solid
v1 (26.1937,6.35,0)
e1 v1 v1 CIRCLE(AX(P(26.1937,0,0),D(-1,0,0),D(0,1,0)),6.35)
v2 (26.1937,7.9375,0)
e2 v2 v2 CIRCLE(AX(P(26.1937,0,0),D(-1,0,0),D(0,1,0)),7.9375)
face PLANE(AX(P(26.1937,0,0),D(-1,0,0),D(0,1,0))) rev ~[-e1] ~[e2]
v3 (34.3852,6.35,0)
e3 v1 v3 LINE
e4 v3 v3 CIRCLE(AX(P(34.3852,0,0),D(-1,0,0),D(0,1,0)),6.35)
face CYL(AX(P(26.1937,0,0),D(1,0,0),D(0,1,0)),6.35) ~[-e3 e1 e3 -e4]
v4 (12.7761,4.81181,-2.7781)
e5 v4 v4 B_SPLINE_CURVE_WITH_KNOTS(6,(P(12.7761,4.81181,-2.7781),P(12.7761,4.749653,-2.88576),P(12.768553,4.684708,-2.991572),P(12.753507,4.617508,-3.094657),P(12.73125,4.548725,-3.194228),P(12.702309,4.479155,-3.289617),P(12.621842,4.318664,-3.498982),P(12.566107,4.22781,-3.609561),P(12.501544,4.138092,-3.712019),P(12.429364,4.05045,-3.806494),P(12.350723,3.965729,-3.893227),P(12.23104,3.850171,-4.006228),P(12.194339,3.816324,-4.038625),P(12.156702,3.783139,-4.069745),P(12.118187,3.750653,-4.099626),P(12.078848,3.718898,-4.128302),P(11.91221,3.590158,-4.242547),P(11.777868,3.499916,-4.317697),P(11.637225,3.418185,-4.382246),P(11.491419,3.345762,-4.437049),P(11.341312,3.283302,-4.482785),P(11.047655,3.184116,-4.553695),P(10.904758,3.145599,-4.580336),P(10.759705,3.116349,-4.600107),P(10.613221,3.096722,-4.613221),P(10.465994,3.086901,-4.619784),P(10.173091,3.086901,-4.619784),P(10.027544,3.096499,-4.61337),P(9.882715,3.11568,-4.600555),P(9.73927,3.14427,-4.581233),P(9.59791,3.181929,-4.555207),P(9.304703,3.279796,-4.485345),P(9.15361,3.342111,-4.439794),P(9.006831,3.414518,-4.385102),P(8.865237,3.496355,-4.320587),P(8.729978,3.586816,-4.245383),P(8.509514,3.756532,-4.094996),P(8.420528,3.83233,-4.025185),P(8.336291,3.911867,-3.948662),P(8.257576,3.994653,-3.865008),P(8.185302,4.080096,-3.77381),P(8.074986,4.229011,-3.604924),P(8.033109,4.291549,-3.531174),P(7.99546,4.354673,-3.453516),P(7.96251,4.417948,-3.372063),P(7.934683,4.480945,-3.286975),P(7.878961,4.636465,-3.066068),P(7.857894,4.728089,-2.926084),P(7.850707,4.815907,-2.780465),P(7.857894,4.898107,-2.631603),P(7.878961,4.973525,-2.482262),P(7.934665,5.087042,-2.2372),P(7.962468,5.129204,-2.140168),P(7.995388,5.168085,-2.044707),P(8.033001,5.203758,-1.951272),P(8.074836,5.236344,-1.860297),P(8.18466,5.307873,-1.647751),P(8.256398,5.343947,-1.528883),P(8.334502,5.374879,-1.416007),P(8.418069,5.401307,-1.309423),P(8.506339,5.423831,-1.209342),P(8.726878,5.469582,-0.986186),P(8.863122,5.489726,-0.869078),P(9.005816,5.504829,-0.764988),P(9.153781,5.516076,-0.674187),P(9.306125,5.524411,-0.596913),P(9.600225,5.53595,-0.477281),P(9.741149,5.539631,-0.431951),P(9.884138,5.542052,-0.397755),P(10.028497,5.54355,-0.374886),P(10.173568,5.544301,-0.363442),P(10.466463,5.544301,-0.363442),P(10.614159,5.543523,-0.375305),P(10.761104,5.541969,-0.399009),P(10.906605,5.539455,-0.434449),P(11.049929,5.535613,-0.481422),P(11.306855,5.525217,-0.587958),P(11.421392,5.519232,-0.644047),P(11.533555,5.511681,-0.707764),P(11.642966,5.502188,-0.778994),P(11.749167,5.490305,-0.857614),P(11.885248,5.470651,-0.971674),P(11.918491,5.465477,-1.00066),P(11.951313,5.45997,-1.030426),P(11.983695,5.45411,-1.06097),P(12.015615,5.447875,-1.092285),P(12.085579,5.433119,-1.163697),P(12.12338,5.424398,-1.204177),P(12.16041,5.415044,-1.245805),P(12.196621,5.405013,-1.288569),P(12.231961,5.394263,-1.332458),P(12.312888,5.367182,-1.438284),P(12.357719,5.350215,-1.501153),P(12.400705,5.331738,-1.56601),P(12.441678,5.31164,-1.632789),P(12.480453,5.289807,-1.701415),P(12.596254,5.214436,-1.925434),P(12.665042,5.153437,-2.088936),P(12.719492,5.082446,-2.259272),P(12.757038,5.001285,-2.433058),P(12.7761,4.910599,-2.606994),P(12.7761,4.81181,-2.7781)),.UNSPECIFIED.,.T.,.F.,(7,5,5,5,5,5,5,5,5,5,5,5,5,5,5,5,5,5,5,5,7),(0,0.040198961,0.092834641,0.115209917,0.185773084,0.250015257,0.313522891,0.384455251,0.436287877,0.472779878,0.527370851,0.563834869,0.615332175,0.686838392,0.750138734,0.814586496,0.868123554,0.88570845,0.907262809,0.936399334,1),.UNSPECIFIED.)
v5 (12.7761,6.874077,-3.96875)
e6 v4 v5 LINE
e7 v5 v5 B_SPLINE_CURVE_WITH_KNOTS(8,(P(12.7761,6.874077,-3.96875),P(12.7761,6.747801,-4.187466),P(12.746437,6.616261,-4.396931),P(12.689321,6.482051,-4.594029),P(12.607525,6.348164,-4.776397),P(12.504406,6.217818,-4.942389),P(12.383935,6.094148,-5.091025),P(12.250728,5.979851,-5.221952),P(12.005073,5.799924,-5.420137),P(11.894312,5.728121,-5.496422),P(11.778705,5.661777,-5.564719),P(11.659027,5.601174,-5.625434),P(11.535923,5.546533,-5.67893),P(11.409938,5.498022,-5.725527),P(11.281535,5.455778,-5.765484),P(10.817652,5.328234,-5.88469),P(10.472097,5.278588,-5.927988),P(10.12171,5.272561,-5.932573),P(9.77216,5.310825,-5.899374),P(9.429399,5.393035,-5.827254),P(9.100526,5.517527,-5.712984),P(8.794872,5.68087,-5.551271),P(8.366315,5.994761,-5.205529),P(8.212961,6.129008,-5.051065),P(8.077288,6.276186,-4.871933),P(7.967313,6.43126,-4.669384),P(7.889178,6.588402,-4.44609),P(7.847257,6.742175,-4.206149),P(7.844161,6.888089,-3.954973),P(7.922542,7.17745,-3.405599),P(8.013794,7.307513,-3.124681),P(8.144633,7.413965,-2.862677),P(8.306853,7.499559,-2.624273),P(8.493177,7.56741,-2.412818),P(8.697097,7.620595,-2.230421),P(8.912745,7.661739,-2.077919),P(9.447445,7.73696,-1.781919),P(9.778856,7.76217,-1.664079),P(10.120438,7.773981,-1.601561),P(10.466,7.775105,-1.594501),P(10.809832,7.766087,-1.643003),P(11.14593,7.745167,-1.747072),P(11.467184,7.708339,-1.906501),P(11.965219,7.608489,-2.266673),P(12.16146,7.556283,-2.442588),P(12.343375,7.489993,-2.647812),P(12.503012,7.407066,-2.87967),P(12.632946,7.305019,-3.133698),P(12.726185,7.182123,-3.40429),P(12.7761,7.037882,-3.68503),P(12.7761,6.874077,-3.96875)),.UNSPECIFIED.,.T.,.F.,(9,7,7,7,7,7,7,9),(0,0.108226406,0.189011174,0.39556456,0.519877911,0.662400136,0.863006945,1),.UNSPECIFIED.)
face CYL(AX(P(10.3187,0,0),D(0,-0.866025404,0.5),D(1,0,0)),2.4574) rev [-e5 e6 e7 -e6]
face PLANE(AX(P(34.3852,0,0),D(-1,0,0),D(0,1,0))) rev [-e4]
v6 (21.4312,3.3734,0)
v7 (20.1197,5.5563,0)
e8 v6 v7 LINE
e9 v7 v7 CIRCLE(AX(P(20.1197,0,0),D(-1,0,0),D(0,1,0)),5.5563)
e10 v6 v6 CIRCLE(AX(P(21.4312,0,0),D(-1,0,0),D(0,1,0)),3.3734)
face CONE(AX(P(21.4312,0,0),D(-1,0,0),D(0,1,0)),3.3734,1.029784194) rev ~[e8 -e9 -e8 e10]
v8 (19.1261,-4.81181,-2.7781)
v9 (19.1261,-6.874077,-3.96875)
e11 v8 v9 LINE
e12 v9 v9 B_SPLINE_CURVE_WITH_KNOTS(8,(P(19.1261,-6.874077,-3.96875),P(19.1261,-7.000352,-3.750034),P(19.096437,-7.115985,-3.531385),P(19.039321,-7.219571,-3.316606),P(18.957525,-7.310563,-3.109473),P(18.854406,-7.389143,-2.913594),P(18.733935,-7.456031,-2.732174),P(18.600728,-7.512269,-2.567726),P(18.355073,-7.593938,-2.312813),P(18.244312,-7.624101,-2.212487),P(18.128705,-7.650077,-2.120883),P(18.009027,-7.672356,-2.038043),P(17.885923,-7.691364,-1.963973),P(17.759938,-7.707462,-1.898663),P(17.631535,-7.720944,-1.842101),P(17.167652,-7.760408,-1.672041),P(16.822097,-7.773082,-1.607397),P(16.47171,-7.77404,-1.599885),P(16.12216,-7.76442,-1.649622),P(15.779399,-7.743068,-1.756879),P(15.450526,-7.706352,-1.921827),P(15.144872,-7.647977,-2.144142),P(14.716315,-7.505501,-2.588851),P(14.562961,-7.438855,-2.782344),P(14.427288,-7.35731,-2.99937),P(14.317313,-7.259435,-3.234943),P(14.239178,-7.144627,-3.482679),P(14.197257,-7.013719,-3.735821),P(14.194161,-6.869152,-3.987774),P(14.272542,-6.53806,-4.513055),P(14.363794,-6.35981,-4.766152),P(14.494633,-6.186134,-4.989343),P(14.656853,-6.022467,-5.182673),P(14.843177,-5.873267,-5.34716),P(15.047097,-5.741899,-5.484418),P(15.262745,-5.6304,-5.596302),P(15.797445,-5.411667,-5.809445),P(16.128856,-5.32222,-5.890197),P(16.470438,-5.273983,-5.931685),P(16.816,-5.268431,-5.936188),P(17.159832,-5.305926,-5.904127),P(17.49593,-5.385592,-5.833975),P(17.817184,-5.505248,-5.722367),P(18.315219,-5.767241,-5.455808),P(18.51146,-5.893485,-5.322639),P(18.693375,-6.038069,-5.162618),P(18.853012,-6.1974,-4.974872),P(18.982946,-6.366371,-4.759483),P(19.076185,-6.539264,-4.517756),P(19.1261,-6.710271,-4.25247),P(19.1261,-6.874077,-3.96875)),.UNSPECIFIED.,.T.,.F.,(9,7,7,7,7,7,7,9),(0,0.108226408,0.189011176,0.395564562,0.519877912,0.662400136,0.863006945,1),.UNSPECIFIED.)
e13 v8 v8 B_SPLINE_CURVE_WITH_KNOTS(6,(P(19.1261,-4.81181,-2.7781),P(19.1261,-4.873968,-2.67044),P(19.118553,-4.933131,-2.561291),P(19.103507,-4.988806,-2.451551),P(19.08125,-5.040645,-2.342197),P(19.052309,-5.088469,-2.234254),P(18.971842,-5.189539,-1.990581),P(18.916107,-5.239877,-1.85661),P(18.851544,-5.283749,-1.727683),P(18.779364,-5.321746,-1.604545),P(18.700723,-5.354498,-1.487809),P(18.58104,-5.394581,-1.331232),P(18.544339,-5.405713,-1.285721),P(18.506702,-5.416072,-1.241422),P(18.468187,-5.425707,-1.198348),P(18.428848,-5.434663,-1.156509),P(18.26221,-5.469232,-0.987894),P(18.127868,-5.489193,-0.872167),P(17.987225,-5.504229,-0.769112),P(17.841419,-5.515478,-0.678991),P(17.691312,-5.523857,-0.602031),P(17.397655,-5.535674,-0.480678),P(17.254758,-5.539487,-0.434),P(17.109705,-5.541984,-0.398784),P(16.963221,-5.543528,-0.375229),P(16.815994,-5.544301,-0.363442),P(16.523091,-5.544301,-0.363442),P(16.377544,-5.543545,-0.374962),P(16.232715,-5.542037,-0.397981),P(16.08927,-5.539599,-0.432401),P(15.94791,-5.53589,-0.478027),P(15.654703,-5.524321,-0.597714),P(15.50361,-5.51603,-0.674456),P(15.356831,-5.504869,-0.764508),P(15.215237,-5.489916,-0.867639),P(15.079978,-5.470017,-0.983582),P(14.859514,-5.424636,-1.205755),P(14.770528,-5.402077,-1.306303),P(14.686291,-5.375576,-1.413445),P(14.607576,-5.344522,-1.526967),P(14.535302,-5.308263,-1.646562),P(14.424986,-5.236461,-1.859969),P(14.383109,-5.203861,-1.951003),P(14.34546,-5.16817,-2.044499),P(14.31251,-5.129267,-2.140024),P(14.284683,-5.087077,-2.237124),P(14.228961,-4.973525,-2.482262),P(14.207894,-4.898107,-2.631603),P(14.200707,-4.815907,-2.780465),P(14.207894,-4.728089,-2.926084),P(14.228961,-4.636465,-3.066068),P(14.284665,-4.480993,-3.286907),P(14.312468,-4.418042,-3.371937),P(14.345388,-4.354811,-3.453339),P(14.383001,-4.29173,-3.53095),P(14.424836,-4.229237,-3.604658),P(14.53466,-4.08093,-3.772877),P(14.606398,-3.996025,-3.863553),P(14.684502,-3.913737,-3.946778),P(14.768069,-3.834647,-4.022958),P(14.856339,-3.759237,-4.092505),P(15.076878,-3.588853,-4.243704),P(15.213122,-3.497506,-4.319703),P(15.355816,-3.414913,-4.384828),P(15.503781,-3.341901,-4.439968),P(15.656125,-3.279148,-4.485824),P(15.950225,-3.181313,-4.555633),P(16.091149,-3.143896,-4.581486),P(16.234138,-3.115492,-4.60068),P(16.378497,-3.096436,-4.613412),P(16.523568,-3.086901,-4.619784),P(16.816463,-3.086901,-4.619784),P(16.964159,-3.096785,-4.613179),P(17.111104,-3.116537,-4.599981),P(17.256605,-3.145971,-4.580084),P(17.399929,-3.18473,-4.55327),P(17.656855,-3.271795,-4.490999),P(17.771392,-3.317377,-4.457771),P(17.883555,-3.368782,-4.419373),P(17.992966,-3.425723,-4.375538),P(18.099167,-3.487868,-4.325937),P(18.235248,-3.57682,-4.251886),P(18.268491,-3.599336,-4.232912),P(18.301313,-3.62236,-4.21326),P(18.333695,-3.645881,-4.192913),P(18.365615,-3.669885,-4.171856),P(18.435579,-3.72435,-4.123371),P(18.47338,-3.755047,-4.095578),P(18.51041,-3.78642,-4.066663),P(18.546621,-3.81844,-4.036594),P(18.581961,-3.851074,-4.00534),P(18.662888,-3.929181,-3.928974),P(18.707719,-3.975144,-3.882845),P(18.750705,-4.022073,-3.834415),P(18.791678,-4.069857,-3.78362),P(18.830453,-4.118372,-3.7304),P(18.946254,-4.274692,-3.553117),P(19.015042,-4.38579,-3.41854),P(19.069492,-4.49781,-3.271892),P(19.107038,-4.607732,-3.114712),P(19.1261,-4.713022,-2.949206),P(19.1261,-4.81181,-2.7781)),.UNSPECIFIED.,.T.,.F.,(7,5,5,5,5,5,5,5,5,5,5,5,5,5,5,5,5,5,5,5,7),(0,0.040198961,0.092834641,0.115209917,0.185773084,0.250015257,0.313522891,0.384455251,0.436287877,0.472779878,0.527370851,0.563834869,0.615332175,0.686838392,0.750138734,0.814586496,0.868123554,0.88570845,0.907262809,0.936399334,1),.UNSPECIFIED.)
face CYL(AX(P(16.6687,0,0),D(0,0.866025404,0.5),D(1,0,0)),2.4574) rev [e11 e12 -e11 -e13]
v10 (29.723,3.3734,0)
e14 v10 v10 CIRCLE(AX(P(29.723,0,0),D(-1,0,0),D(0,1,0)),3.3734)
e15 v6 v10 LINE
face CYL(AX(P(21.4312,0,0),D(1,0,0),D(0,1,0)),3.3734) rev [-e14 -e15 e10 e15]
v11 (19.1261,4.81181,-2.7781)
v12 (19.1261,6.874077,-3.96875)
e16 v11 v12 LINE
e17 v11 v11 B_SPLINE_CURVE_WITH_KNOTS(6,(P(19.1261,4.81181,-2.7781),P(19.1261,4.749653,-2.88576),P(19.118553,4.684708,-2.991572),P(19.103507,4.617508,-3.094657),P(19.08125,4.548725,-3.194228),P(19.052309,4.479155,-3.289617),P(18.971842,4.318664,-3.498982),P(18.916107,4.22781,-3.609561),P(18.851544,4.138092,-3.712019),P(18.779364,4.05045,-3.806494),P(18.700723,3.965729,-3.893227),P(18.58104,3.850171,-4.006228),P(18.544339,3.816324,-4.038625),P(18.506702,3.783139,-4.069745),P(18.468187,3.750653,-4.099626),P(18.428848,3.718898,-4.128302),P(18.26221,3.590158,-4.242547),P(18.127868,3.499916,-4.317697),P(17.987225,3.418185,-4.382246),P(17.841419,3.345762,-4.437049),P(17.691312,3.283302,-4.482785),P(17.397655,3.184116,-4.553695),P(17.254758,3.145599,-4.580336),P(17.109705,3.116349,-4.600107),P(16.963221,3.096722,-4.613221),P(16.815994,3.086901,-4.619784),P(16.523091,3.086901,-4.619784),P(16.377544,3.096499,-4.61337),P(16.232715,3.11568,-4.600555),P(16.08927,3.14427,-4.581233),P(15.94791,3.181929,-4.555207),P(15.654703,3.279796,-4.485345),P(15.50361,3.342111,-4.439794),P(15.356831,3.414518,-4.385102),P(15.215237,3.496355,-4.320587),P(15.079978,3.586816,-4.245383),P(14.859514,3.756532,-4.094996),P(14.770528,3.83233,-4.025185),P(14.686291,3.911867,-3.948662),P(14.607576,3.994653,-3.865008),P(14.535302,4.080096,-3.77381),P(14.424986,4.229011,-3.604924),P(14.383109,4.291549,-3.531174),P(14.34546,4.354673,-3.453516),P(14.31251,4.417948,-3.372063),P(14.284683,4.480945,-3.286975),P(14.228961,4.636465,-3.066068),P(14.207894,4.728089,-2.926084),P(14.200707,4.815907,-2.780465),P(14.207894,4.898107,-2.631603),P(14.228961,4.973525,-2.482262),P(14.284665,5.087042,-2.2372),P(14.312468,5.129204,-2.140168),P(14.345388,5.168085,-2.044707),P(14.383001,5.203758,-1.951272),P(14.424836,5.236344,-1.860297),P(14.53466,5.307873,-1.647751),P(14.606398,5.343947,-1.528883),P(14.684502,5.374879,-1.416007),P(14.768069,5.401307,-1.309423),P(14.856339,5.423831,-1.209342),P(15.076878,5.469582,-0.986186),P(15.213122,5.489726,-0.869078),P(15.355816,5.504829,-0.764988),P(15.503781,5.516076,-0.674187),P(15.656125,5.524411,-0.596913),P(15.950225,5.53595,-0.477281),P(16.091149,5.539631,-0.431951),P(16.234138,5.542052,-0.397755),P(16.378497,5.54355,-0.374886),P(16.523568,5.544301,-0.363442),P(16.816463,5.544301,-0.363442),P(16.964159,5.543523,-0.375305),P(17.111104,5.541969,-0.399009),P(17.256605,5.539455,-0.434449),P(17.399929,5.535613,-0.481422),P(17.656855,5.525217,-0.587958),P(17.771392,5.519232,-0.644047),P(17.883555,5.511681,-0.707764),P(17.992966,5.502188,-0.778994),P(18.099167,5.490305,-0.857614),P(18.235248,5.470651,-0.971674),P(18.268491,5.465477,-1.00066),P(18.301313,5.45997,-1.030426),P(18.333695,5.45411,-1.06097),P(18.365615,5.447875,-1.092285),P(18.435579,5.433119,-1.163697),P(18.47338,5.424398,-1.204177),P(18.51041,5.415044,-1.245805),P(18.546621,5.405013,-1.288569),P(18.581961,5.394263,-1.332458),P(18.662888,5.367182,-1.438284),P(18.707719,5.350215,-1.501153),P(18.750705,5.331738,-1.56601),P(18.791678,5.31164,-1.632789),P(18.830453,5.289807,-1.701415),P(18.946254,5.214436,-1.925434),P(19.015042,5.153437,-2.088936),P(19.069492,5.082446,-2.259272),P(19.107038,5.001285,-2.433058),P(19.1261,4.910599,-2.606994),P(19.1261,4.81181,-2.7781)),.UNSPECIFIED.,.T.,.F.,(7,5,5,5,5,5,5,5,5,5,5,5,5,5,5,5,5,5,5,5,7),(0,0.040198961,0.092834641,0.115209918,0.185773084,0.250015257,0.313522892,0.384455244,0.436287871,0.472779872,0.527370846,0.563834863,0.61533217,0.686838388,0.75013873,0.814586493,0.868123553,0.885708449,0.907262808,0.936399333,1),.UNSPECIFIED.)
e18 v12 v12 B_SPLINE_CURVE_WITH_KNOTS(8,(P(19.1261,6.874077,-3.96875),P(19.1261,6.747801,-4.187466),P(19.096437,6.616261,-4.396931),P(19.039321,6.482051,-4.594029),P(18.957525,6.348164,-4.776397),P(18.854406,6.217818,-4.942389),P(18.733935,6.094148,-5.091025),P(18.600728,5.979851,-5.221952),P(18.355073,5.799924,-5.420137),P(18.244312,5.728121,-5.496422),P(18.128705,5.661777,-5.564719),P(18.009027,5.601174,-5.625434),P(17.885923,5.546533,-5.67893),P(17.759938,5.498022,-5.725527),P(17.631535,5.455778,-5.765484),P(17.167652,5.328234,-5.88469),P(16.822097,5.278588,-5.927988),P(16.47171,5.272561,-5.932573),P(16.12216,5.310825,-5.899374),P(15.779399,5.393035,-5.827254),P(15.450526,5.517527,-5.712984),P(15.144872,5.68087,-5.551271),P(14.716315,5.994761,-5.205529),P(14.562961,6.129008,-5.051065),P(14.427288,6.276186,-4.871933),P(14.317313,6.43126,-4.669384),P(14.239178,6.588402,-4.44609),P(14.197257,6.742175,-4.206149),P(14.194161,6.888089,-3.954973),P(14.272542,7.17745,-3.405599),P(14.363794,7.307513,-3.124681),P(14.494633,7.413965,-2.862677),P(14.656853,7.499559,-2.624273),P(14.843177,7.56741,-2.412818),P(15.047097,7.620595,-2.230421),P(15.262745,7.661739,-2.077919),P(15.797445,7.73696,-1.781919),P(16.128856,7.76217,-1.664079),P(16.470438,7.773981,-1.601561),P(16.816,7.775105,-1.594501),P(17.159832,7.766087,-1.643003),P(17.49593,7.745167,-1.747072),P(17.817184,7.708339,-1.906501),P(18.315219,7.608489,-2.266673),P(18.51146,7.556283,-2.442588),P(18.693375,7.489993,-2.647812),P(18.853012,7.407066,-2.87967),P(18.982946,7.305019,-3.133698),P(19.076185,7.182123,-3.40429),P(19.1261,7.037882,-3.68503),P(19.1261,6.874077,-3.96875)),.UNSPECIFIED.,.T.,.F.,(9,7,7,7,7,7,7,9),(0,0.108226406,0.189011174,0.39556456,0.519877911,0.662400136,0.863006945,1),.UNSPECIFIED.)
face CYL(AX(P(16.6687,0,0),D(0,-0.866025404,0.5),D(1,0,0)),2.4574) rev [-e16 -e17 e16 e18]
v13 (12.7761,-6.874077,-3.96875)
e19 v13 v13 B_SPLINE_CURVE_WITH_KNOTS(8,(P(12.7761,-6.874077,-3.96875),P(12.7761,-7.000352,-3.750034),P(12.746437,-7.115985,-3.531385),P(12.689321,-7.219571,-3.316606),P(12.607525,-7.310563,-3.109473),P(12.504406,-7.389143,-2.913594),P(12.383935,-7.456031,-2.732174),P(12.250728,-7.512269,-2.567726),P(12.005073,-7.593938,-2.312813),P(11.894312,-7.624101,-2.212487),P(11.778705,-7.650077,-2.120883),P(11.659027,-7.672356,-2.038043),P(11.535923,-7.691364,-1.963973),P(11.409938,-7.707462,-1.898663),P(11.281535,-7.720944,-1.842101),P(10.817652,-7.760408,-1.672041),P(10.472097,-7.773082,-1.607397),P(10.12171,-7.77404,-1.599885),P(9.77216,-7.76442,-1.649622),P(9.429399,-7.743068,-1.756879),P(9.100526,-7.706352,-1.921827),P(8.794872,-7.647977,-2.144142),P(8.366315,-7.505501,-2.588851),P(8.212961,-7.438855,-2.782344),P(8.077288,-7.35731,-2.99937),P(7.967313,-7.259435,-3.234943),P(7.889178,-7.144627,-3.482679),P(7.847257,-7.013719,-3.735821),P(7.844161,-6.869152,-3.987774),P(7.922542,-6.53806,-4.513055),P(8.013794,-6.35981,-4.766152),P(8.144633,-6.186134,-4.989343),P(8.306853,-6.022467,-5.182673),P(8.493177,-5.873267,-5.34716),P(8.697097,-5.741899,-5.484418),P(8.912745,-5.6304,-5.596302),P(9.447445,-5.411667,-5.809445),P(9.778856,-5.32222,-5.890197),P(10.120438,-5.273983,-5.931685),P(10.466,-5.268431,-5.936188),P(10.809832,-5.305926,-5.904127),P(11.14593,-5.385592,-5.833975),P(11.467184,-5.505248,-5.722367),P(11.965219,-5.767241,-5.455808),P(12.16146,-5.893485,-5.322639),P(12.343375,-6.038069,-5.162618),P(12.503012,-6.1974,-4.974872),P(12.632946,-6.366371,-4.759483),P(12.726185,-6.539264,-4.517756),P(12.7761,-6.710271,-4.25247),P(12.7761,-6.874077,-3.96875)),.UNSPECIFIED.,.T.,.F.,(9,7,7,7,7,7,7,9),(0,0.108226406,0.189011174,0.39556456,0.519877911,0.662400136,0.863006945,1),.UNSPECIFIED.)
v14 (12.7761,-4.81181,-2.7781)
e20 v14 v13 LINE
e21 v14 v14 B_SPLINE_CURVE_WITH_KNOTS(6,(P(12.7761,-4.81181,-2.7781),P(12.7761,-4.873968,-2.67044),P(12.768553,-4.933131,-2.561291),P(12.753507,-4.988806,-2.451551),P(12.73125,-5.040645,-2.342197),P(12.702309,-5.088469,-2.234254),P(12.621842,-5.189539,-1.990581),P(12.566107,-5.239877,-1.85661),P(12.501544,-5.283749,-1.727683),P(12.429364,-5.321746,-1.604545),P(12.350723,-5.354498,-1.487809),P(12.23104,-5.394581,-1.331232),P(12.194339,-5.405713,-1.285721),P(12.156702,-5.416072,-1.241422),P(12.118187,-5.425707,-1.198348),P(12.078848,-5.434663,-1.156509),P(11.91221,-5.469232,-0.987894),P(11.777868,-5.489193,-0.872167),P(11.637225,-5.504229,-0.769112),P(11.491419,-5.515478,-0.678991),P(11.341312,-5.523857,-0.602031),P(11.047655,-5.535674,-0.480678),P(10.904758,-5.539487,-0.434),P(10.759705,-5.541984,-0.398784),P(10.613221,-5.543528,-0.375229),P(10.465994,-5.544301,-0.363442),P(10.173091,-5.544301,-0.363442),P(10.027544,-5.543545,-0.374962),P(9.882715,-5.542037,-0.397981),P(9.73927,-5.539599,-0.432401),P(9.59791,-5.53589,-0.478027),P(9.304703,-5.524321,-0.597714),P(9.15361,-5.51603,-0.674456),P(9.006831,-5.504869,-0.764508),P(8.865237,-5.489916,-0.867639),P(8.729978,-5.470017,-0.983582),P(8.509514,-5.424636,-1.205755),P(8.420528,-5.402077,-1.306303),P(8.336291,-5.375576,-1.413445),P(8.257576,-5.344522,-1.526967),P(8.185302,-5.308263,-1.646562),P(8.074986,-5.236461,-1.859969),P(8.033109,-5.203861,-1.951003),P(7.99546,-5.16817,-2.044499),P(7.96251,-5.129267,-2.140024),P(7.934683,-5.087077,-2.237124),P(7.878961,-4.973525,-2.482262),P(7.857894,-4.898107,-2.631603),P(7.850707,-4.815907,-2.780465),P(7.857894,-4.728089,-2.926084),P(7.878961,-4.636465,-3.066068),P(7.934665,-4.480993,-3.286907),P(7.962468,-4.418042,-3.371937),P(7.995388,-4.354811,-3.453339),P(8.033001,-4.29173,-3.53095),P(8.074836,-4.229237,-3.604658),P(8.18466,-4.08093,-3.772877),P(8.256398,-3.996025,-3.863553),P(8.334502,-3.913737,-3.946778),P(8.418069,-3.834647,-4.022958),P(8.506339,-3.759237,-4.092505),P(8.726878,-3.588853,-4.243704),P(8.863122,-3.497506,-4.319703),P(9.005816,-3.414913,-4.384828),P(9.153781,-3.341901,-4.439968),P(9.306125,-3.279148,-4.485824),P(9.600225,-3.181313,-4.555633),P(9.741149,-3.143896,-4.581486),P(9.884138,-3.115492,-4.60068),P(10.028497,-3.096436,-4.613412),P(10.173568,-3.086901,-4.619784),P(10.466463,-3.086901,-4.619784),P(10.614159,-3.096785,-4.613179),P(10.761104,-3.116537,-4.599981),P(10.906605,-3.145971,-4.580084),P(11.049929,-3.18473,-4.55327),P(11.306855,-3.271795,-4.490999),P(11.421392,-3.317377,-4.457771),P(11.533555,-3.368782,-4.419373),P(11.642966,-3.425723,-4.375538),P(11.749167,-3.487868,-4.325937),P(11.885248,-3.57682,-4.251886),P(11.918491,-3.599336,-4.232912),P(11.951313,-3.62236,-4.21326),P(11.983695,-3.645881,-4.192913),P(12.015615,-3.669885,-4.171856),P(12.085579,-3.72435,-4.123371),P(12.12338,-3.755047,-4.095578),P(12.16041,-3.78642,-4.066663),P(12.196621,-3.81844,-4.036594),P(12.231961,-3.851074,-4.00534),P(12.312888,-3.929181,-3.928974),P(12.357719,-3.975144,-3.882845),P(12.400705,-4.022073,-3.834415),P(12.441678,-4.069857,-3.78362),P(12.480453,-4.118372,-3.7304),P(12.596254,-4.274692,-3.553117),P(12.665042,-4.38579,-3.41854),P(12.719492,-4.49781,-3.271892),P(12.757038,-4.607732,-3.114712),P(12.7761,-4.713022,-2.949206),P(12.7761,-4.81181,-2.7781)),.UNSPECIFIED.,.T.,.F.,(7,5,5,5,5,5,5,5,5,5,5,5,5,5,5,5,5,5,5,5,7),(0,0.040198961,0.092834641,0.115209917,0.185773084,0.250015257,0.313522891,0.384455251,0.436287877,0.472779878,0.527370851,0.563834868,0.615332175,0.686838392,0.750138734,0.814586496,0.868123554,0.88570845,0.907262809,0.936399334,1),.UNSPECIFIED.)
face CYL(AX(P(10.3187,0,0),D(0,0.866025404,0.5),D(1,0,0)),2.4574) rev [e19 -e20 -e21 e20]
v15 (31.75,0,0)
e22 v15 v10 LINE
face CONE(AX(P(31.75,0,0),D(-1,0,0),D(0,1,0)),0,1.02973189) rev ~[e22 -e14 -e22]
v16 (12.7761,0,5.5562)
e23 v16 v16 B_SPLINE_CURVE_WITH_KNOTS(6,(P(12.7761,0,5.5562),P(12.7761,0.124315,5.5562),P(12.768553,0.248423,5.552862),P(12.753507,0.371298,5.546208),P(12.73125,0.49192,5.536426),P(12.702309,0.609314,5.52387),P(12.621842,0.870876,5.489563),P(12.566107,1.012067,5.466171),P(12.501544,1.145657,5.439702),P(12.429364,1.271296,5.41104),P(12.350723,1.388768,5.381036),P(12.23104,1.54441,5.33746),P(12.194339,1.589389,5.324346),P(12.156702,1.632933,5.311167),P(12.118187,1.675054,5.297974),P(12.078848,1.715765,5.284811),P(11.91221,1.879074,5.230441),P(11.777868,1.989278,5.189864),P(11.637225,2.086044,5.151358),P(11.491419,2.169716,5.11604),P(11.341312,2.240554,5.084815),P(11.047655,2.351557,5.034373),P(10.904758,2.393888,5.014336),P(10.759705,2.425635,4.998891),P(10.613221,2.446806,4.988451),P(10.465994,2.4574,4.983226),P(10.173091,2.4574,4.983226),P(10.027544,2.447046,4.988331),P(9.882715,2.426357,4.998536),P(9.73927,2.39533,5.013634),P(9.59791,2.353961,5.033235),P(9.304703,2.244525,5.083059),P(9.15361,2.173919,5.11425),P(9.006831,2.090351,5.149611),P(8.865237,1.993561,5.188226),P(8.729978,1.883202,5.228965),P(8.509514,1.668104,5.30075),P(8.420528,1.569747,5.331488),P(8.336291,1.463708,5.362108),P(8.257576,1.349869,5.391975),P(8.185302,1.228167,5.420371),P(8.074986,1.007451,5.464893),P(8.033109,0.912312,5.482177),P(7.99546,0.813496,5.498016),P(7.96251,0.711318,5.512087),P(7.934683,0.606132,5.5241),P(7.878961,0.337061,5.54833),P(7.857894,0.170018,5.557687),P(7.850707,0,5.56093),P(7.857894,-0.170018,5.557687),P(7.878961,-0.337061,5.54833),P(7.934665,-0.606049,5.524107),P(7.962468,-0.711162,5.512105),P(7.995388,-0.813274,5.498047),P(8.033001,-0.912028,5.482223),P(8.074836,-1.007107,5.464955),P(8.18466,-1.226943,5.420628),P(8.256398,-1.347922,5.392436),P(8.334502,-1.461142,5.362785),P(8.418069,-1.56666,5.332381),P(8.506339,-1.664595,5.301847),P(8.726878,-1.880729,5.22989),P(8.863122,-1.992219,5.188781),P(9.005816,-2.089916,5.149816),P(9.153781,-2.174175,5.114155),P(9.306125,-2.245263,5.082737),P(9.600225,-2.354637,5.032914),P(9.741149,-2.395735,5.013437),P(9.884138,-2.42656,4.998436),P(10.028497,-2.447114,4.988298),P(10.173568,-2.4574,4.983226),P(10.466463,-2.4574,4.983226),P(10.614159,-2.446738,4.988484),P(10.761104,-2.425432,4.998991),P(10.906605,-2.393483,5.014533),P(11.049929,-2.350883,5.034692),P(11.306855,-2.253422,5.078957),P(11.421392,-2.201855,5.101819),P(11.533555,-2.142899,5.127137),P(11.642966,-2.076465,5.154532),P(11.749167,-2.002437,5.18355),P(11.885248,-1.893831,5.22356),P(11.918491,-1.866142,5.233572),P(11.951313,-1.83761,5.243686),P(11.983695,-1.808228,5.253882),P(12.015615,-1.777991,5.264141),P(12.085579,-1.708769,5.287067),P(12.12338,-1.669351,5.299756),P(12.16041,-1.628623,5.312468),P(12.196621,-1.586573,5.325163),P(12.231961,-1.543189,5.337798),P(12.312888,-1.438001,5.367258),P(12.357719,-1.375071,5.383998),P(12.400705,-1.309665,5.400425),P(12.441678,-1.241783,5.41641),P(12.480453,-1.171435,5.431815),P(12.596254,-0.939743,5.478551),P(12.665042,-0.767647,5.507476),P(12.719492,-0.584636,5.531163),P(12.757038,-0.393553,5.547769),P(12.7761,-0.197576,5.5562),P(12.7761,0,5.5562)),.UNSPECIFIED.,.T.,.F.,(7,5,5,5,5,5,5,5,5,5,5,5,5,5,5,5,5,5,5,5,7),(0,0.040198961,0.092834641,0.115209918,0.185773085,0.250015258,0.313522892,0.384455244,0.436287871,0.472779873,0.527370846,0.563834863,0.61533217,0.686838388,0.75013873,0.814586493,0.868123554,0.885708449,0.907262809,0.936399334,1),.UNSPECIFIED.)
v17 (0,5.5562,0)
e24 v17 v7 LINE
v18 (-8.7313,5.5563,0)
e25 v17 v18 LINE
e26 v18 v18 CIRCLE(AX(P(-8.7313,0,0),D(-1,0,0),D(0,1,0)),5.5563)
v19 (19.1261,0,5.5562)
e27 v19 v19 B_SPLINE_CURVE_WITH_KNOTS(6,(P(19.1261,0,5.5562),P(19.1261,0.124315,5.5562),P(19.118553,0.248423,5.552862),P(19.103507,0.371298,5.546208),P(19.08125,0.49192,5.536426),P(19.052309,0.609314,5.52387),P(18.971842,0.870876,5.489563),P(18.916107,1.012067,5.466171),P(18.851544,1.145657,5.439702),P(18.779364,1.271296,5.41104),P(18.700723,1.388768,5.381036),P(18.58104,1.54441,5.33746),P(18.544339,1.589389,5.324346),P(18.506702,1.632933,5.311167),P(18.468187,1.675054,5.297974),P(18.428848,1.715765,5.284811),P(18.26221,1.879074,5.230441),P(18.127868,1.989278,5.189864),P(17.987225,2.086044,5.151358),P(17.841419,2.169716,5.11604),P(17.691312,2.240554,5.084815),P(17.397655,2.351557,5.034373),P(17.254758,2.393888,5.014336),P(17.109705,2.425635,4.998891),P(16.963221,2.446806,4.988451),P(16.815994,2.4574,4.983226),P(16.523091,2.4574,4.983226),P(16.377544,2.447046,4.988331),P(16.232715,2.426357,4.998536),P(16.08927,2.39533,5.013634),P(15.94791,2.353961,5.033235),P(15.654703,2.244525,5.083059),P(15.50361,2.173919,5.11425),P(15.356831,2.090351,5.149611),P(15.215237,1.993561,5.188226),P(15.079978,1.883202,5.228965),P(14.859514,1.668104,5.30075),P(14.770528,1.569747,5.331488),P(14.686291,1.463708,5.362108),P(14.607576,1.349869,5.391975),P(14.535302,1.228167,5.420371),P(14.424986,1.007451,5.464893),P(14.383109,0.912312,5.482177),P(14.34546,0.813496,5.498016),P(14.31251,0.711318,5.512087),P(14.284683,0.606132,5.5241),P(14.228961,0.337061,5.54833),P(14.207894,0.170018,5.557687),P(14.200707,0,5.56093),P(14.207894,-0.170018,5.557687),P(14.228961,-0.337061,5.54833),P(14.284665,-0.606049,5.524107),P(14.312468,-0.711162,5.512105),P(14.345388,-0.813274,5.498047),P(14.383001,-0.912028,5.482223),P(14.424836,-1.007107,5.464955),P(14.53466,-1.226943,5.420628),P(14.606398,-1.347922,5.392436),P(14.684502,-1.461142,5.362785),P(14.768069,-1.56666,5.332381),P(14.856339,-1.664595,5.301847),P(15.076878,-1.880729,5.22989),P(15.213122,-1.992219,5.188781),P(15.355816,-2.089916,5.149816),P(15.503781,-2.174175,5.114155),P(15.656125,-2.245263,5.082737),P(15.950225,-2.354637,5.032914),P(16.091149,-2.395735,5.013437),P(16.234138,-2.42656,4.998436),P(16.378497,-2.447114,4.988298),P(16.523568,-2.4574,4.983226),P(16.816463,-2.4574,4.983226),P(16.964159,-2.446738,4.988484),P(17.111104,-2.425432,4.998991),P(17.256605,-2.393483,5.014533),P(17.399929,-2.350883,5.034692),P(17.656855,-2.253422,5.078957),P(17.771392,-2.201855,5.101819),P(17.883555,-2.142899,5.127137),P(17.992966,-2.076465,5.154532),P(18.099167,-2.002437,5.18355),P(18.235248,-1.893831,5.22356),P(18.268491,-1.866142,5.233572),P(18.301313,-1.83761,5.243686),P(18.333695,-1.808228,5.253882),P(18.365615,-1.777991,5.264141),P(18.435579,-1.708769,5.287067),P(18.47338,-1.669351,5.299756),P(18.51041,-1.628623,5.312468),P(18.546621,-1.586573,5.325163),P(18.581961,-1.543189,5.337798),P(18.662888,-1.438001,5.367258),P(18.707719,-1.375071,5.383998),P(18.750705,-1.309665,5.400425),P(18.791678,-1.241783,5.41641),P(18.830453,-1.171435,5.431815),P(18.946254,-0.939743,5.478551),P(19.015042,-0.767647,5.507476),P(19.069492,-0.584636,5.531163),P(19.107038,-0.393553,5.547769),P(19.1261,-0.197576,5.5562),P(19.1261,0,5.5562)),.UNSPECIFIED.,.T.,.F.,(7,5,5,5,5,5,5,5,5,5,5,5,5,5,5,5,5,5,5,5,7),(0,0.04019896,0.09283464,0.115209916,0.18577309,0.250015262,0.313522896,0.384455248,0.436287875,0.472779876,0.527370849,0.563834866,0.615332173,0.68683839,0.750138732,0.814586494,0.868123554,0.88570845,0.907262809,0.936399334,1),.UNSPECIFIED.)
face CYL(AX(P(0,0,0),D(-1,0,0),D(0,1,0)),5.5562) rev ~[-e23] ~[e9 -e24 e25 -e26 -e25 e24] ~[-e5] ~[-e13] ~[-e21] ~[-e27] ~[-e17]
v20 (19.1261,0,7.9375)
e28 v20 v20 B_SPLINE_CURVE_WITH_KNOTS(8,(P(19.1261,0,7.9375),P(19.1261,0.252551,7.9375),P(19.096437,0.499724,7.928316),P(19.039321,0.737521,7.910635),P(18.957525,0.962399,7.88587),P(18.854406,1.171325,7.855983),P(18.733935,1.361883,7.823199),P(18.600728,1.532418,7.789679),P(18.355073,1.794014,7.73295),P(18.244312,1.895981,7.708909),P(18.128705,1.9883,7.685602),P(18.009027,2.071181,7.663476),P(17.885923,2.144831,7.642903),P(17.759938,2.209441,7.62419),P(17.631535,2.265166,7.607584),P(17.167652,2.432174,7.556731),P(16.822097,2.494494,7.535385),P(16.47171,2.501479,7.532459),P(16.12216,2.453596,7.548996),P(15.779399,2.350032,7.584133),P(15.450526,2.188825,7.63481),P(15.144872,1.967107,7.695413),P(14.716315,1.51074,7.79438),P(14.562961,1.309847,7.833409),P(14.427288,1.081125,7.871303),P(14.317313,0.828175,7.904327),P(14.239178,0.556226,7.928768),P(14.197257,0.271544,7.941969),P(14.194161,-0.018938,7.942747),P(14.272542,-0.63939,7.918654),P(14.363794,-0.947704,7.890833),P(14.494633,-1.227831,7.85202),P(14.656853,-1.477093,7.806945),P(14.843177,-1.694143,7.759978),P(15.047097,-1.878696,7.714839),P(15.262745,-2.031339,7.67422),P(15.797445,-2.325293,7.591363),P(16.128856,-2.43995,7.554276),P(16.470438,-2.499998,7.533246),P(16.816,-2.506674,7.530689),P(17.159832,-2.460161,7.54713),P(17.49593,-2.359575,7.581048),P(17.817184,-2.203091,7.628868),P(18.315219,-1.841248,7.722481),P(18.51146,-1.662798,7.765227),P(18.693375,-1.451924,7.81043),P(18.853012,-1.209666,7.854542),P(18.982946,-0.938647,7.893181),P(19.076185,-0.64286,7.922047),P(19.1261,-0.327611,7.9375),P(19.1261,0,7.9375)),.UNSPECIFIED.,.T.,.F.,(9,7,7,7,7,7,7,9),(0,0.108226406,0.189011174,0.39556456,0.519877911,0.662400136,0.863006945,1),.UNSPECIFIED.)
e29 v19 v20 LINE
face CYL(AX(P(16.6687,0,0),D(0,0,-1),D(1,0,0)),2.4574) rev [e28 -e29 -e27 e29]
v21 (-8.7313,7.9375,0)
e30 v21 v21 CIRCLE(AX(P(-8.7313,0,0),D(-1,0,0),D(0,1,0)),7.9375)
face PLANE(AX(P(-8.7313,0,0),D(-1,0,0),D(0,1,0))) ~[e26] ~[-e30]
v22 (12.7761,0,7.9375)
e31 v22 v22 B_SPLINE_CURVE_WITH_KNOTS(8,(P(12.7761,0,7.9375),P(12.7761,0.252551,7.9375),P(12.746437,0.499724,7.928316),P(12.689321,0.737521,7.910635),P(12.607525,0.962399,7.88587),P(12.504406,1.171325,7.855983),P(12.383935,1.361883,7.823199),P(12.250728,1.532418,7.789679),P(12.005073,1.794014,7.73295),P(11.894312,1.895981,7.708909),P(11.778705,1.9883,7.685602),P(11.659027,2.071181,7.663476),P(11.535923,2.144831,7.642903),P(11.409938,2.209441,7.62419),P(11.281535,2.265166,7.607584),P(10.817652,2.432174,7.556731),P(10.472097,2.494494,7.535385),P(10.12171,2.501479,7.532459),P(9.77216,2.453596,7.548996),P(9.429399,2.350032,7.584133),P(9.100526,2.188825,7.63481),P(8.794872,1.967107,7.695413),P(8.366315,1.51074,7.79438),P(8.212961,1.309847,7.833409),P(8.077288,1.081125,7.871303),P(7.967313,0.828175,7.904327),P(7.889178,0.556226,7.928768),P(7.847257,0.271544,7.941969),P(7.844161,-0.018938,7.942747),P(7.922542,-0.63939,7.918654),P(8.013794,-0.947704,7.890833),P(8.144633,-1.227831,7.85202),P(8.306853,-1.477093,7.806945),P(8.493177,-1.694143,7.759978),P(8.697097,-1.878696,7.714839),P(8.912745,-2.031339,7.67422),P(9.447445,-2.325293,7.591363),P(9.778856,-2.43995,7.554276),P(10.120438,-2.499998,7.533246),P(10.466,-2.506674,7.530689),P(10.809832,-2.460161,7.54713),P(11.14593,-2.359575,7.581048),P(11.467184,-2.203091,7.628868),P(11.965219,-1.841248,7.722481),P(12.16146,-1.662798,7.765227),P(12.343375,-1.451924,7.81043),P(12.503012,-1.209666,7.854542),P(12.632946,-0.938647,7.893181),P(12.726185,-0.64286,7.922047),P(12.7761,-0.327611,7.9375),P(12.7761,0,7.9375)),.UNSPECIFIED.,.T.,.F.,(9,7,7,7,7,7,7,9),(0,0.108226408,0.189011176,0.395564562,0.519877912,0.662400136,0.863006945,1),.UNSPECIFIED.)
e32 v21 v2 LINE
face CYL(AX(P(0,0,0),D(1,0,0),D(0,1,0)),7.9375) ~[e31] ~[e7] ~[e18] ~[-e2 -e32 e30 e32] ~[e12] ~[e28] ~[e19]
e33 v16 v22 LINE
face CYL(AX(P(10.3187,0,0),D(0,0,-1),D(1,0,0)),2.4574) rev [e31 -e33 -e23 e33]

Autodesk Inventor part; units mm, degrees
ref_plane "YZ Plane" through (0, 0, 0) normal (1, 0, 0) x (0, 1, 0)
ref_plane "XZ Plane" through (0, 0, 0) normal (0, 1, 0) x (-1, 0, 0)
ref_plane "XY Plane" through (0, 0, 0) normal (0, 0, 1) x (1, 0, 0)
sketch "Sketch4" plane through (0, 0, 0) normal (0, 0, 1) x (1, 0, 0)
  line L0 (0, 0) -> (0, 5.5562) construction
  line L1 (0, 5.5562) -> (20.1197, 5.5563)
  line L2 (0, 7.9375) -> (26.1937, 7.9375)
  line L3 (26.1937, 7.9375) -> (26.1937, 6.35)
  line L4 (26.1937, 5.5563) -> (26.1937, 0) construction
  line L5 (26.1937, 0) -> (0, 0) construction
  line L6 (26.1937, 6.35) -> (34.3852, 6.35)
  line L7 (26.1937, 0) -> (31.75, 0) construction
  line L8 (34.3852, 0) -> (34.3852, 6.35)
  line L9 (16.6687, 7.9375) -> (16.6687, 0) construction
  circle A0 centre (16.6687, 7.5565) radius 2.3813 construction
  circle A1 centre (16.6687, 5.4928) radius 2.3813 construction
  circle A2 centre (10.3187, 7.5565) radius 2.3813 construction
  circle A3 centre (10.3187, 5.4928) radius 2.3813 construction
  line L10 (10.3187, 7.9375) -> (10.3187, 0) construction
  line L11 (0, 5.1753) -> (26.1938, 5.1753) construction
  line L12 (8.7312, 5.1753) -> (8.7312, 0) construction
  line L13 (5.5562, 5.1753) -> (5.5562, 0) construction
  line L14 (18.2563, 5.1753) -> (18.2562, 0) construction
  line L15 (21.4313, 5.1753) -> (21.4312, 0) construction
  line L16 (0, 3.1115) -> (26.1937, 3.1115) construction
  line L17 (5.5562, 3.1115) -> (8.7312, 5.1753) construction
  line L18 (18.2563, 5.1753) -> (21.4312, 3.1115) construction
  line L19 (11.9062, 5.1753) -> (11.9062, 0) construction
  line L20 (15.0812, 5.1753) -> (15.0812, 0) construction
  line L21 (11.9062, 5.1753) -> (15.0812, 3.1115) construction
  line L22 (21.4312, 3.3734) -> (29.723, 3.3734)
  line L23 (24.6062, 3.3734) -> (24.6062, 0) construction
  line L24 (21.4312, 3.3734) -> (20.1197, 5.5563)
  line L25 (26.1937, 3.1115) -> (30.9562, 3.1115) construction
  line L26 (30.9562, 3.1115) -> (30.9562, 0) construction
  line L27 (31.75, 3.3734) -> (31.75, 0) construction
  line L28 (31.75, 0) -> (29.723, 3.3734)
  line L29 (0, 7.9375) -> (-1.5875, 7.9375) construction
  line L30 (-1.5875, 7.9375) -> (-1.5875, 3.3734) construction
  line L31 (-1.5875, 3.3734) -> (5.5562, 3.3734) construction
  line L32 (0, 5.5562) -> (0, 7.9375)
  line L33 (0, 7.9375) -> (0, 12.7) construction
  line L34 (20.1197, 5.5563) -> (26.1937, 5.5563) construction
  line L35 (29.723, 3.3734) -> (34.3852, 3.3734) construction
  line L36 (26.1937, 6.35) -> (26.1937, 5.5563) construction
  line L37 (31.75, 0) -> (34.3852, 0)
  line L38 (0, 5.5562) -> (-8.7313, 5.5563)
  line L39 (-8.7313, 5.5563) -> (-8.7313, 7.9375)
  line L40 (-8.7313, 7.9375) -> (0, 7.9375)
  dimension "d16" = 12.7
  dimension "d17" = 5.5563
  dimension "d18" = 7.9375
  dimension "d19" = 26.1938
  dimension "d20" = 8.1915
  dimension "d21" = 6.35
  dimension "d22" = 9.525
  dimension "d23" = 6.35
  dimension "d24" = 0.381
  dimension "d25" = 0.381
  dimension "d26" = 0.0635
  dimension "d27" = 0.0635
  dimension "d28" = 1.5875
  dimension "d29" = 4.7625
  dimension "d30" = 1.5875
  dimension "d31" = 4.7625
  dimension "d32" = 3.1115
  dimension "d33" = 1.5875
  dimension "d34" = 4.7625
  dimension "d35" = 3.3734
  dimension "d36" = 3.175
  dimension "d37" = 31
  dimension "d38" = 9.525
  dimension "d39" = 9.525
  dimension "d40" = 0.7937
  dimension "d41" = 31
  dimension "d42" = 1.5875
  dimension "d43" = 3.3734
  dimension "d49" = 4.7625
  dimension "d63" = 8.7312
revolve "Revolution1" add sketch "Sketch4" angle 360 about axis through (26.1937, 0, 0) along (-1, 0, 0)
sketch "Sketch5" plane through (0, 0, 0) normal (0, 0, 1) x (1, 0, 0)
  line L0 (26.1937, -7.9375) -> (26.1937, 7.9375) projected
  line L1 (0, 0) -> (26.1937, 0) construction
  circle A0 centre (16.6687, 0) radius 2.4574
  circle A1 centre (10.3187, 0) radius 2.4574
  dimension "d51" = 4.9149
  dimension "d53" = 6.35
  dimension "d54" = 9.525
  dimension "d55" = 4.9149
extrude "Extrusion4" cut sketch "Sketch5" along normal through all
pattern_circular "Circular Pattern2" count 3 over 360 about axis through (-4.3656, 0, 0) along (1, 0, 0) of "Extrusion4"
ref_plane "Work Plane1" through (16.6687, 0, 0) normal (1, 0, 0) x (0, 0, -1)
ref_plane "Work Plane2" through (10.3187, 0, 0) normal (1, 0, 0) x (0, 0, -1)
equation "\"d17\" = d44"
equation "\"d18\" = d45"
equation "\"d24\" = d46"
equation "\"d25\" = d24"
equation "\"d26\" = d47"
equation "\"d27\" = d26"
equation "\"d32\" = d48"
equation "\"d33\" = d28"
equation "\"d34\" = d29"
equation "\"d39\" = d38"
equation "\"d41\" = d37"
equation "\"d43\" = d35"
equation "\"d55\" = d51"
equation "\"d44\" = 5.55625"
equation "\"d45\" = 7.9375"
equation "\"d46\" = 0.381"
equation "\"d47\" = 0.0635"
equation "\"d48\" = 3.1115"
properties part number "Output SHaft"
